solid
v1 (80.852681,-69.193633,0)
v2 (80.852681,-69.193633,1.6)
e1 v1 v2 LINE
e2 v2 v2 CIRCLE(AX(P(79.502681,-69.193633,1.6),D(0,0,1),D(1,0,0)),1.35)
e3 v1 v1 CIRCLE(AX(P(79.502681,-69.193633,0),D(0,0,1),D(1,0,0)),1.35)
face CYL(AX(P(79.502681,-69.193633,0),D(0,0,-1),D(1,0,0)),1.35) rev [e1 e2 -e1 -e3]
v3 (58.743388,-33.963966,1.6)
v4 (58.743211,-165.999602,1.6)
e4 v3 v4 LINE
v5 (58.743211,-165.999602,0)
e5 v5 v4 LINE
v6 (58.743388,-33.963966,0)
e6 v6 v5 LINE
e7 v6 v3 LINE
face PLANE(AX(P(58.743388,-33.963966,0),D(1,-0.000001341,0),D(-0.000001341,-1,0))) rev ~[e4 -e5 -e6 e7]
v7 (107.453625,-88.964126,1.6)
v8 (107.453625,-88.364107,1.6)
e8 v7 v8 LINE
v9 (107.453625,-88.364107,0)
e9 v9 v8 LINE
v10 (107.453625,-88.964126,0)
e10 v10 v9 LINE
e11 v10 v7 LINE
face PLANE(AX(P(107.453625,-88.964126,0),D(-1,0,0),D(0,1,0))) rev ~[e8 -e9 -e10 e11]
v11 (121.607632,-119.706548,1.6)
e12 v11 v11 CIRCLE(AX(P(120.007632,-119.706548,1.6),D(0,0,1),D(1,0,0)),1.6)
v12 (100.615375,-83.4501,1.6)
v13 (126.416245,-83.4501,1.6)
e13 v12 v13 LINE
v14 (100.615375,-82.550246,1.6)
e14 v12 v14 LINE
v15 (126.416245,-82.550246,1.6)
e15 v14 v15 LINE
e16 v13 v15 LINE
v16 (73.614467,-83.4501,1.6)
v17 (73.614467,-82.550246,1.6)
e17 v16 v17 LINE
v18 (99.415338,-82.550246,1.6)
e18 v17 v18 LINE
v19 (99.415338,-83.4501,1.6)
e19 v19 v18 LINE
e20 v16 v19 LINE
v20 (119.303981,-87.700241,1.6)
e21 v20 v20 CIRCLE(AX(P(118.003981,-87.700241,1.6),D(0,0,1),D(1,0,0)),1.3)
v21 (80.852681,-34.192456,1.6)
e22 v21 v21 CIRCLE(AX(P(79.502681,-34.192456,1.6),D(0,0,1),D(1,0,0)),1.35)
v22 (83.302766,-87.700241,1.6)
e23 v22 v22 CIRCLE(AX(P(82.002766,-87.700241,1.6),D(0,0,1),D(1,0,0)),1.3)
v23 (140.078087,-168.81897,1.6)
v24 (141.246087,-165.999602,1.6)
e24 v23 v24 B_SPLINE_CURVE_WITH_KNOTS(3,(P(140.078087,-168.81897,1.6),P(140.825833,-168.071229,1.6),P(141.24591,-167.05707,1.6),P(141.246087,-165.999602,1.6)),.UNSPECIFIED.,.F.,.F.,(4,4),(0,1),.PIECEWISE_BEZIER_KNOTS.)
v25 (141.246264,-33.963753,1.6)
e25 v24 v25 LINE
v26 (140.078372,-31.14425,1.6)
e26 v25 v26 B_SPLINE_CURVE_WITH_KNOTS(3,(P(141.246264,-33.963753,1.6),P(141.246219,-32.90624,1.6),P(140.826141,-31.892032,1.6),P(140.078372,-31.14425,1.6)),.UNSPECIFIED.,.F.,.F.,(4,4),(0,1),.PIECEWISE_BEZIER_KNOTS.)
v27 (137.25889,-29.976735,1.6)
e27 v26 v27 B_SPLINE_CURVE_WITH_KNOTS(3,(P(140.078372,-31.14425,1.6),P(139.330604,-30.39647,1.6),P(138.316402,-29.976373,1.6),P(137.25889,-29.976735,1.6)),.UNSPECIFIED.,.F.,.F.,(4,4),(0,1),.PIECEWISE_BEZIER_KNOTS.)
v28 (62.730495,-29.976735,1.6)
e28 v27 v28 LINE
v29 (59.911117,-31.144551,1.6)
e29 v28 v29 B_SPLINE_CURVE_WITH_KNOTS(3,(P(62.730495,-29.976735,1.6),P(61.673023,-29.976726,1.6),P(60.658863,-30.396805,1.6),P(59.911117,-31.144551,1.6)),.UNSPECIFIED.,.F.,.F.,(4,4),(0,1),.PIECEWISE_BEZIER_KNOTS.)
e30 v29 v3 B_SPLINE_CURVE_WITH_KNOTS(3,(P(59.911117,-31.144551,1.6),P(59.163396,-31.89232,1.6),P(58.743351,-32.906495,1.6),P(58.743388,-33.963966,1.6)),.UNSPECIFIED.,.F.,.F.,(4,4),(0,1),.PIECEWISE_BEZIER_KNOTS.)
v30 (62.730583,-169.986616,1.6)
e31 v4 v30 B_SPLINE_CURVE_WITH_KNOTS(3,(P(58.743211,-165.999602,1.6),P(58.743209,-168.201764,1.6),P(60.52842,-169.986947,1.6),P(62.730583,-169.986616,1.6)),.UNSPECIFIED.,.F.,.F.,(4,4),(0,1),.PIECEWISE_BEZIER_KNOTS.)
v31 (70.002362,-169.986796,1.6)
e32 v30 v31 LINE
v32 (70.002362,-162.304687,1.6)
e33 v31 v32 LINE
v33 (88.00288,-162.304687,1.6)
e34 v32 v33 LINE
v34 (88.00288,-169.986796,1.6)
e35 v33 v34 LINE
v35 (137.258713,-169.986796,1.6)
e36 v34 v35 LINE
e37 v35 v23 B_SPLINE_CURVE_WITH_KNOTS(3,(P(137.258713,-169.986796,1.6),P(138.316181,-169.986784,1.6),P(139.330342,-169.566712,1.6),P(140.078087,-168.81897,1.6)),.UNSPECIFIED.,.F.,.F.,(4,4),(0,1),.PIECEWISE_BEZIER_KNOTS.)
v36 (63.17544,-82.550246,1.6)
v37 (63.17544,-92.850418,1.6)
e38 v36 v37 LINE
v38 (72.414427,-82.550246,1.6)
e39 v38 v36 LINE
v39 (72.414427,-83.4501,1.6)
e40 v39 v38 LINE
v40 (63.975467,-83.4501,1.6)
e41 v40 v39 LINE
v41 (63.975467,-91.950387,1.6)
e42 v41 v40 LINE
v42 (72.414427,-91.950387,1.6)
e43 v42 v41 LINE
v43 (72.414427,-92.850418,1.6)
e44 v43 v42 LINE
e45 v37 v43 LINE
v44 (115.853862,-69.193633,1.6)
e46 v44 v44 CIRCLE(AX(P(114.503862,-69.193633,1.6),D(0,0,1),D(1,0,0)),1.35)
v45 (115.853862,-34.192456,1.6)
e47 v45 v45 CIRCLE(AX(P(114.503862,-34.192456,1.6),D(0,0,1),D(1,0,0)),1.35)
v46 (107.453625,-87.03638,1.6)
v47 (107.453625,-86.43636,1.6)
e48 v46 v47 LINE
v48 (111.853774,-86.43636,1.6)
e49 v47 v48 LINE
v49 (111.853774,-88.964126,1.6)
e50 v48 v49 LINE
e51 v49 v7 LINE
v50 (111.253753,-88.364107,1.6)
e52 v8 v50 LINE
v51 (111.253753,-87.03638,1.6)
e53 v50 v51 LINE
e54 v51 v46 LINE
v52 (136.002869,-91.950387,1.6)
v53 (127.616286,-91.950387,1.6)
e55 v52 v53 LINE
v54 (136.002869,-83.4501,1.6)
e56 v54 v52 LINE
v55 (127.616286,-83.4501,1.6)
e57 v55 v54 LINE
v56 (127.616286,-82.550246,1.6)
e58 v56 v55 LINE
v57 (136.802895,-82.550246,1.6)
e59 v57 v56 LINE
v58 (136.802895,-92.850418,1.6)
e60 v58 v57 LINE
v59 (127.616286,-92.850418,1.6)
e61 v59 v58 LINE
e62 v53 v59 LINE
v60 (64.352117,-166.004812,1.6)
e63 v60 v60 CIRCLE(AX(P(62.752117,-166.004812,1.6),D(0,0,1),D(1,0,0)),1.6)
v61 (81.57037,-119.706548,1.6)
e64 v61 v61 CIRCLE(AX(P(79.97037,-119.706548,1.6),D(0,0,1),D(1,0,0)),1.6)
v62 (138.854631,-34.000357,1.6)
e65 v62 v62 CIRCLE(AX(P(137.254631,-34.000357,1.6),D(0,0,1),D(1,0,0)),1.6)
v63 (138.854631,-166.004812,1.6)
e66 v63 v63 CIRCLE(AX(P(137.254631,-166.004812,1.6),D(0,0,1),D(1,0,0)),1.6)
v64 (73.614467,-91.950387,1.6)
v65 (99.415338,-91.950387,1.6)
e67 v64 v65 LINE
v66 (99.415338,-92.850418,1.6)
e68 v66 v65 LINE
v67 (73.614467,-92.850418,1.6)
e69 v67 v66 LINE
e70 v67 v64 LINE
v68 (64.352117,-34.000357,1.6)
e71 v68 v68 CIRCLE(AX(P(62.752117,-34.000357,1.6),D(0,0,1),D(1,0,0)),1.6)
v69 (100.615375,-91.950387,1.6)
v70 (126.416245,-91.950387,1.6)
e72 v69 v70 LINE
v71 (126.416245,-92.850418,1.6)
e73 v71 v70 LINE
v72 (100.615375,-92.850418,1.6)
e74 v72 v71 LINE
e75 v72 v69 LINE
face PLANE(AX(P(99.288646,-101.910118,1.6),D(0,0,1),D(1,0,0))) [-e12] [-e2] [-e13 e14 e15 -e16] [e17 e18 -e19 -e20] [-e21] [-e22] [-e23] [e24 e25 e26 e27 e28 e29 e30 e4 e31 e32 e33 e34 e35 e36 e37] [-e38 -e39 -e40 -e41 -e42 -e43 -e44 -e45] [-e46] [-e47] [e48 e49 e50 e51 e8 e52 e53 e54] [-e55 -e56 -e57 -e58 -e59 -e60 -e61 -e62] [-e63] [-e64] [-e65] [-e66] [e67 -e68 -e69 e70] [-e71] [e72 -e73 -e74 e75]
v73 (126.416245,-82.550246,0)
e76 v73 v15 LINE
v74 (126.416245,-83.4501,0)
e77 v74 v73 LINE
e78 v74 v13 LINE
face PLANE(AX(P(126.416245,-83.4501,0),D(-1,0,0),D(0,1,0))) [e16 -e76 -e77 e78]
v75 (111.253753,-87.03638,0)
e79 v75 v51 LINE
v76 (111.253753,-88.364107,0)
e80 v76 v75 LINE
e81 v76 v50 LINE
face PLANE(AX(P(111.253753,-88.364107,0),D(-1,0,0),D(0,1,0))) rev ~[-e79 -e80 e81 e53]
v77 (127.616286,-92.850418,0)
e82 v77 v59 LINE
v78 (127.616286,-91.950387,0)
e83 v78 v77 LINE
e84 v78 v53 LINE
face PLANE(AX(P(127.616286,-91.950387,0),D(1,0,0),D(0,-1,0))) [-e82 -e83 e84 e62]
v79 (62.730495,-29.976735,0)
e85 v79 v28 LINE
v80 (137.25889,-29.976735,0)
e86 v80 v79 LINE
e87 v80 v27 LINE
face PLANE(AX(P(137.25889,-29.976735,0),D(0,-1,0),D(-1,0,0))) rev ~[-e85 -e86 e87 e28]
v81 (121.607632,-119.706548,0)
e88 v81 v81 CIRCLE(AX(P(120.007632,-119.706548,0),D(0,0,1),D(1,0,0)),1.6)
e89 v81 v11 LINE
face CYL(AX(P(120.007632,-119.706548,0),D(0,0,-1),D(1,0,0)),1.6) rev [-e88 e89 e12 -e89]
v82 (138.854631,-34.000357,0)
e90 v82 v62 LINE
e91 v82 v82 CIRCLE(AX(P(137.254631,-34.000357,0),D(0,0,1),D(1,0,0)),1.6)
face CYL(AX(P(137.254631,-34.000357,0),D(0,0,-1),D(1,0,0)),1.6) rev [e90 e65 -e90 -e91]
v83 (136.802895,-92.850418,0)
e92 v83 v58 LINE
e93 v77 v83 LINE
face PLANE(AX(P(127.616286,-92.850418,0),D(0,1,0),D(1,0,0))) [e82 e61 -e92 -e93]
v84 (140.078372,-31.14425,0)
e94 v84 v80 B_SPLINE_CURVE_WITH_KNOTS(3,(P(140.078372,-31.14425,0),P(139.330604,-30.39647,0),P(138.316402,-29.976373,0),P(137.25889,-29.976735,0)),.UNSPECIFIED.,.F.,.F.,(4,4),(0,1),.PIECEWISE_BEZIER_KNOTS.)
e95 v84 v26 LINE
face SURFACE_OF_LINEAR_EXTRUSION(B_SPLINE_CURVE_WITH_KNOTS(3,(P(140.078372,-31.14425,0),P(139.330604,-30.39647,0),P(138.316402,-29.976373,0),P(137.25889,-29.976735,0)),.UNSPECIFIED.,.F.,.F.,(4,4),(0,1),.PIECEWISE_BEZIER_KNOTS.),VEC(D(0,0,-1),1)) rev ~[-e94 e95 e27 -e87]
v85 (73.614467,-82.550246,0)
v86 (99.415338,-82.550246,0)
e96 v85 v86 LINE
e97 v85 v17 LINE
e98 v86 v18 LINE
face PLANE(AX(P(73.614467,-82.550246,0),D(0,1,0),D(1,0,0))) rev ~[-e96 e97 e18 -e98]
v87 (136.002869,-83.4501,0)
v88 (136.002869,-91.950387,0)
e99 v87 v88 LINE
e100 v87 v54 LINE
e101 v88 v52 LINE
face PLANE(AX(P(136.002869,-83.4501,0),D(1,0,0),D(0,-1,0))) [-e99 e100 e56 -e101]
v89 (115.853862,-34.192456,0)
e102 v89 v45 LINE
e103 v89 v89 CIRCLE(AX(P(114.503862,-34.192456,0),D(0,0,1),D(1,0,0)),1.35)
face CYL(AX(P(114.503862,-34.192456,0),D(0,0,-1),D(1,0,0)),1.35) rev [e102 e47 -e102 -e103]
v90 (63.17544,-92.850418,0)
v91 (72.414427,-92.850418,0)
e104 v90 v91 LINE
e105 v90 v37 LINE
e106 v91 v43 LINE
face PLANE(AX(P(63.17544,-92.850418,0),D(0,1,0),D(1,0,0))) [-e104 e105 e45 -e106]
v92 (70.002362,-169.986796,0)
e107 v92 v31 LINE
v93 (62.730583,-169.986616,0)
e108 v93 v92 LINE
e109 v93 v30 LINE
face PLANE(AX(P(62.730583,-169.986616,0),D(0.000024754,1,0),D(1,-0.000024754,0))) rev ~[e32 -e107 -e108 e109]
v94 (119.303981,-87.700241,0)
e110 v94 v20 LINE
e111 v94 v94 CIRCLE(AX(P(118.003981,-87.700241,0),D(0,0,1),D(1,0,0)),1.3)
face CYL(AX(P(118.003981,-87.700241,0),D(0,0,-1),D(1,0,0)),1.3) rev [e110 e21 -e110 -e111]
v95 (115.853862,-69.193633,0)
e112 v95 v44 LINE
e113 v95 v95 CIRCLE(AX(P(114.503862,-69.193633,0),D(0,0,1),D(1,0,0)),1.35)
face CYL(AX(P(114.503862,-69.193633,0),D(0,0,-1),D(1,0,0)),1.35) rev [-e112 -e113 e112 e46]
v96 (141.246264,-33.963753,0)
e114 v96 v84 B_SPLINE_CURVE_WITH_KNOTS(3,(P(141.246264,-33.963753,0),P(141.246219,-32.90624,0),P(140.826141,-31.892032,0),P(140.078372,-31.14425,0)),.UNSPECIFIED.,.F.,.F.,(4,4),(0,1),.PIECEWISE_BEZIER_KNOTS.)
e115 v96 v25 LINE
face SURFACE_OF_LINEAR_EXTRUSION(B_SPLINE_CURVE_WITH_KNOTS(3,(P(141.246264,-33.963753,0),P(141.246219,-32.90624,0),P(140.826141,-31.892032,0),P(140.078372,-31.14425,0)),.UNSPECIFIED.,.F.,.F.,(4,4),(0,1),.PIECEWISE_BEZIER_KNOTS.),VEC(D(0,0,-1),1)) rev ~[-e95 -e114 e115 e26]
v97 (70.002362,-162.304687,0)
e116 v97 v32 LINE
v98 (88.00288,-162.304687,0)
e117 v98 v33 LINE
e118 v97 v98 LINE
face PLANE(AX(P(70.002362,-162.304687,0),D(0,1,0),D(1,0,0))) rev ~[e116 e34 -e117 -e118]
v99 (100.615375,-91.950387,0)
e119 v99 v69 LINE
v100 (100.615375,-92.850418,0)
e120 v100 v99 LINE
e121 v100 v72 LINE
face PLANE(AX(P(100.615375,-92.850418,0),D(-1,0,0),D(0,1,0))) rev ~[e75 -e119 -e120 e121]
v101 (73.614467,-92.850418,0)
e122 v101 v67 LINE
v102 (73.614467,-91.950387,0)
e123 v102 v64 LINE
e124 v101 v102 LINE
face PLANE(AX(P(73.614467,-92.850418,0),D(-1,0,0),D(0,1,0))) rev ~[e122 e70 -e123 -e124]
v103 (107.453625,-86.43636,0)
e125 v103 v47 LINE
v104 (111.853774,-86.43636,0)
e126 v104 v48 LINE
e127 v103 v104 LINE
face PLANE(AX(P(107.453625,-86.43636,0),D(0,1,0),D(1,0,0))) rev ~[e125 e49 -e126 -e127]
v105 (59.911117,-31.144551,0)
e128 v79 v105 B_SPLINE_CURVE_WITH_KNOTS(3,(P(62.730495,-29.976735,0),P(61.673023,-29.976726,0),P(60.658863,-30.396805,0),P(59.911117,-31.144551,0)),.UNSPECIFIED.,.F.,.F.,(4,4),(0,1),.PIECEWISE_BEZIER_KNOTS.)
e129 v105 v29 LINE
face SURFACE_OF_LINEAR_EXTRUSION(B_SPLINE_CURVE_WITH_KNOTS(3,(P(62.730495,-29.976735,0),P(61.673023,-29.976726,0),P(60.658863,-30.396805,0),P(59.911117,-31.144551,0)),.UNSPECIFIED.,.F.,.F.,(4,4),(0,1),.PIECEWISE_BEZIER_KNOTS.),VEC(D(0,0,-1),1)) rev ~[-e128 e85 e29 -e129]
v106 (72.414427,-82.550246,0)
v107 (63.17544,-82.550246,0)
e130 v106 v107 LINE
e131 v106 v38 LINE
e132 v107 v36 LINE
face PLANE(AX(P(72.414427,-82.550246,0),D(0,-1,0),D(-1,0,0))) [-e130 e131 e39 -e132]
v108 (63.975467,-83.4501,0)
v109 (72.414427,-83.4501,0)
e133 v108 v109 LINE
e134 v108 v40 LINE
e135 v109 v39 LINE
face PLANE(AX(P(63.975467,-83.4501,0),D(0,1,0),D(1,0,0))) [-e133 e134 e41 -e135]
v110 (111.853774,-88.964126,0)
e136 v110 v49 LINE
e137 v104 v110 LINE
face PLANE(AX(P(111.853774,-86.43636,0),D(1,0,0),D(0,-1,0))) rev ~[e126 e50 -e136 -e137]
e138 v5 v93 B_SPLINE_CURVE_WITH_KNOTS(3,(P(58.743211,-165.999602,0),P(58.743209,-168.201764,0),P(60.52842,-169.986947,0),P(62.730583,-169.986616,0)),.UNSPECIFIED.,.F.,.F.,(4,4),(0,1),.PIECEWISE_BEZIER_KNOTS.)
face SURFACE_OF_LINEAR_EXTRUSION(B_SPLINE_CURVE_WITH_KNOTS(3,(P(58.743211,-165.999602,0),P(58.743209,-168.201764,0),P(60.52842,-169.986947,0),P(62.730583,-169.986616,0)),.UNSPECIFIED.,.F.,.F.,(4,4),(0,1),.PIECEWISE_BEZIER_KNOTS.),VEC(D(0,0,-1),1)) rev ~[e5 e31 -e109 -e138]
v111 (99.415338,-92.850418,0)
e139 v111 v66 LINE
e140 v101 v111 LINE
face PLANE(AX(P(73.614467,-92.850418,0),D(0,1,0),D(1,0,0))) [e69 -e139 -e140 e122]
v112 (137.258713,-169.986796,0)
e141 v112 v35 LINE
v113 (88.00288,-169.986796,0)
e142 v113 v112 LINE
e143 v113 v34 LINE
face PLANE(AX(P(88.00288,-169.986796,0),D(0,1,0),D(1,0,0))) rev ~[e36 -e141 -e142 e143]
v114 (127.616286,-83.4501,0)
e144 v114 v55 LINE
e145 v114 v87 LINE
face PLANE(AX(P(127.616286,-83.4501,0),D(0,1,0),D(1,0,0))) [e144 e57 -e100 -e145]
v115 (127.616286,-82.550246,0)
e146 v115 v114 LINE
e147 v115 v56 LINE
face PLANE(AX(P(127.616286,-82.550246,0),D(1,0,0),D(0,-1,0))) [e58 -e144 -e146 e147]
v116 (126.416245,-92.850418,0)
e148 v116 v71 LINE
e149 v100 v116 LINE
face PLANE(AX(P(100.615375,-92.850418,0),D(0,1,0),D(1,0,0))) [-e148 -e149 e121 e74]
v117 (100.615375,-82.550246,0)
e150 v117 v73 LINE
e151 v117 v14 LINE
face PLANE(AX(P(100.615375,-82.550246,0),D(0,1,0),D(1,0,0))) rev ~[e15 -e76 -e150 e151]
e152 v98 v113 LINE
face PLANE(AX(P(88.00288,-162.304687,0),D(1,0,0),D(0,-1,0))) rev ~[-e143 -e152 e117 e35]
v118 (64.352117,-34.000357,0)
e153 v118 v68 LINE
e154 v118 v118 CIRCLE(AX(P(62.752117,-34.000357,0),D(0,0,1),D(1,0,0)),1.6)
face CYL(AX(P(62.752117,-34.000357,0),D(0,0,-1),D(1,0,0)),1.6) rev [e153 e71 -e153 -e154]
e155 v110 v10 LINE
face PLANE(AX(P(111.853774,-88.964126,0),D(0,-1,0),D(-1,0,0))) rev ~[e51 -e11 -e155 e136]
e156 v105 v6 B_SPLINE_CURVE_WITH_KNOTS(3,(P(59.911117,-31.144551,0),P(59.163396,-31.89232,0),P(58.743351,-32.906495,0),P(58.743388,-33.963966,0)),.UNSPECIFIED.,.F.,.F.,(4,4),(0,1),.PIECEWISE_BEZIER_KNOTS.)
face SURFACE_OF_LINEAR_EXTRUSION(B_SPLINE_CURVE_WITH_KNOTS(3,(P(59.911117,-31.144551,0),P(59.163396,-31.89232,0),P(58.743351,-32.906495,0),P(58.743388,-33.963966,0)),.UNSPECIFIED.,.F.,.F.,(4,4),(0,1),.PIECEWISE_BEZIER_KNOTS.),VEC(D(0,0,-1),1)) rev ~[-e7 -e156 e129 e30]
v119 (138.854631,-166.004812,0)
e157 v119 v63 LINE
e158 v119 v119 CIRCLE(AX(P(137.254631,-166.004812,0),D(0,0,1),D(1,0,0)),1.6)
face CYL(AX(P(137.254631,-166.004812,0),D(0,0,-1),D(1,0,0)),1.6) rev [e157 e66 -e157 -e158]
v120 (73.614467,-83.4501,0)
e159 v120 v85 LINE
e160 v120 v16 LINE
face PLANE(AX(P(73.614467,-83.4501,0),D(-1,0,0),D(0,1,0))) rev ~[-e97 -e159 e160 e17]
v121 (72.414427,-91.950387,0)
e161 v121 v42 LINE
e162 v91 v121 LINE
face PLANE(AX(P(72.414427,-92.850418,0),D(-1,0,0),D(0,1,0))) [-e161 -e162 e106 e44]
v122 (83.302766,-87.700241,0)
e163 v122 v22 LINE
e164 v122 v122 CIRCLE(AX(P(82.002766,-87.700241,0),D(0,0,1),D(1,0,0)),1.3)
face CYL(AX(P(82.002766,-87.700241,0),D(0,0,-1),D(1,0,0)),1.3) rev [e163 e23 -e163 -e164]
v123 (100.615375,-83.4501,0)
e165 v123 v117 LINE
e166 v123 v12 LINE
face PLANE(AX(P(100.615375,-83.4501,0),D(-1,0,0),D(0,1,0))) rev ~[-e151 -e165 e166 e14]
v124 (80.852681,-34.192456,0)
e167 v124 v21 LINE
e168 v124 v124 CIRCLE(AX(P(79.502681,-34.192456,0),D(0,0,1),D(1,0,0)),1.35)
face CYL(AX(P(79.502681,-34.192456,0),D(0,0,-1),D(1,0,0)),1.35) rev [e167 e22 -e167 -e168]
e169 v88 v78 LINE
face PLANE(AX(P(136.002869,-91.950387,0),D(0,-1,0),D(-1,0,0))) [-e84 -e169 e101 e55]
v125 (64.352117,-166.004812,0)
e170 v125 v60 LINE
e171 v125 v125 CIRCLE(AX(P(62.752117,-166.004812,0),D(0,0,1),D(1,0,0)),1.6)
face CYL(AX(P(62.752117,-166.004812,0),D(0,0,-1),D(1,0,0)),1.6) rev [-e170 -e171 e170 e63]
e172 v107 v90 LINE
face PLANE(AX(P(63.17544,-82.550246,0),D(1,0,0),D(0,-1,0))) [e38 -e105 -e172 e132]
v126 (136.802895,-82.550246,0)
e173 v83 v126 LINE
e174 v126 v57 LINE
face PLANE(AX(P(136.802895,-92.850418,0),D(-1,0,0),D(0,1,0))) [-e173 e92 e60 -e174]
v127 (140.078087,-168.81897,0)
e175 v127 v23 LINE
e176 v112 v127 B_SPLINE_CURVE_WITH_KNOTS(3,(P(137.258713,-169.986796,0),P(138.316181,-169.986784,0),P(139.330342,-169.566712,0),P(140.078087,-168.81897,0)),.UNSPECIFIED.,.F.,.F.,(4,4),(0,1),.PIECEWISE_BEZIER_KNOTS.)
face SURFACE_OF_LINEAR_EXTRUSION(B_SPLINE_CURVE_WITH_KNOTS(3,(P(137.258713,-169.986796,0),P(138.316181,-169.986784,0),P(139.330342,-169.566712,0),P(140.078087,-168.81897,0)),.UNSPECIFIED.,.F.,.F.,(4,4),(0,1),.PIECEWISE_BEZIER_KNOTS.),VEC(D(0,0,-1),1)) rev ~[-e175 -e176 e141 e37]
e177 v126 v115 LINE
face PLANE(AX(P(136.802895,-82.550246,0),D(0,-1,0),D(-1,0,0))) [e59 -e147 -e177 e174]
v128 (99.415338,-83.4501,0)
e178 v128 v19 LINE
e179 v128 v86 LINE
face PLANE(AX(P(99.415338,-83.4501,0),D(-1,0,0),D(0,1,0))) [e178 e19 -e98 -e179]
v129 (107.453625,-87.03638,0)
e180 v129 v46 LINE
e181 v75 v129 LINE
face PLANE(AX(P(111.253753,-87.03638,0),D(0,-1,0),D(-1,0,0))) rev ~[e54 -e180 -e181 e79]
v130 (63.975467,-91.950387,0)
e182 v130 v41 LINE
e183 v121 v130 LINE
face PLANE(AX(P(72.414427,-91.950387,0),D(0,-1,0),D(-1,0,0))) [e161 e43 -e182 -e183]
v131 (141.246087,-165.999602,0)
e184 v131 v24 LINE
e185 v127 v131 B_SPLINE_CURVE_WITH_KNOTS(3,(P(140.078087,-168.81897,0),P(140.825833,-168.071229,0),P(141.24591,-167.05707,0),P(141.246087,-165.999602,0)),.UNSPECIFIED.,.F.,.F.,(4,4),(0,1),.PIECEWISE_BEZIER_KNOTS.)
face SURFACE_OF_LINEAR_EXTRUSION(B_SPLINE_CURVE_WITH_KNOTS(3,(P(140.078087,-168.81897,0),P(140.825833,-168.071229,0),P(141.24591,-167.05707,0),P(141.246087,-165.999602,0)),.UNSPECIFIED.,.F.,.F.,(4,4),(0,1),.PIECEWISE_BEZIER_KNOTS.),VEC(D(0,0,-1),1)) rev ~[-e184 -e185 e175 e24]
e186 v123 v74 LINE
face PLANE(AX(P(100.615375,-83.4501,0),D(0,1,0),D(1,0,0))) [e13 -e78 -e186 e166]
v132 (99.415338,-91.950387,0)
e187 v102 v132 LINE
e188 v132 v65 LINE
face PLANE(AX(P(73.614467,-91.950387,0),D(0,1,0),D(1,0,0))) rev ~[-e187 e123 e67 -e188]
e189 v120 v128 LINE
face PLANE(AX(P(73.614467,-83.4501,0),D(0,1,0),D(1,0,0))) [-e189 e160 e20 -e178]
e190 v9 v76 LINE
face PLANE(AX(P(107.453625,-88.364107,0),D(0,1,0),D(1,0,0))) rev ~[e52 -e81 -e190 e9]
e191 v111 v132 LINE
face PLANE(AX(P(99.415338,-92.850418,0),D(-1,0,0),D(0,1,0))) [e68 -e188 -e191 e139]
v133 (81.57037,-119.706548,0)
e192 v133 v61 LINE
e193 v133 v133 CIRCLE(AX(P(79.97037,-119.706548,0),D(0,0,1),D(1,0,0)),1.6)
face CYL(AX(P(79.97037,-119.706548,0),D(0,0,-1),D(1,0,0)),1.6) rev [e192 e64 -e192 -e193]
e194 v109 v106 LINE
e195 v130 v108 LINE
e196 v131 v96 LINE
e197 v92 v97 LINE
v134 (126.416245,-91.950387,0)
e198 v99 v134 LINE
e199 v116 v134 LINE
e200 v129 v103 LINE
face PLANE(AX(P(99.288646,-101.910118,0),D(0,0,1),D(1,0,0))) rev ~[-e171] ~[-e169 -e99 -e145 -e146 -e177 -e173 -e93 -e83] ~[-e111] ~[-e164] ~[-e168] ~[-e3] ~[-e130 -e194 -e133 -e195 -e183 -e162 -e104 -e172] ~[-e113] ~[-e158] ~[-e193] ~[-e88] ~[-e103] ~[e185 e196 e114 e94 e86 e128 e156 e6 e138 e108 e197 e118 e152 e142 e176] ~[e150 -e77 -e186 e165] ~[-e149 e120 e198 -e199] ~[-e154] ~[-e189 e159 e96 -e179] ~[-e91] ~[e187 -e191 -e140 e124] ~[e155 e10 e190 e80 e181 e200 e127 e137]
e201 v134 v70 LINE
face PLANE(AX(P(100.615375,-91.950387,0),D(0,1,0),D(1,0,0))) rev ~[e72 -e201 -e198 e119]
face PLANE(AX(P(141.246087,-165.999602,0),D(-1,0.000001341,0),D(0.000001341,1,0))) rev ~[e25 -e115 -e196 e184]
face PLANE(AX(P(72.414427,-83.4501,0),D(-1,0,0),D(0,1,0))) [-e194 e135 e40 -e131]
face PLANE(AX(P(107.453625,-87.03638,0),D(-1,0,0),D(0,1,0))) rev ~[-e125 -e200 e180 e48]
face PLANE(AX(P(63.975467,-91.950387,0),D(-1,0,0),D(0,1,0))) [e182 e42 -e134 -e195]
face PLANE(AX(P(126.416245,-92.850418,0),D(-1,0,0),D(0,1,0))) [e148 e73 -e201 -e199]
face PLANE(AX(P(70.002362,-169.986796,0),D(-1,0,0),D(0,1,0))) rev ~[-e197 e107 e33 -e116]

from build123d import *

# Parameters (mm, degrees)
MODEL_R             = 1.3
MODEL_R_2           = 1.35
MODEL_R_3           = 1.6
MODEL_W             = 25.800871102
MODEL_H             = 0.899853509
MODEL_W_2           = 25.800870102
MODEL_H_2           = 0.900030515
BOSS_EXTRUDE1_DEPTH = 1.6


with BuildPart() as part:
    # Model → Boss-Extrude1 (new body)
    with BuildSketch(Plane.XY):
        with BuildLine():
            Line((70.002361624, -162.304686543), (88.002880425, -162.304686543))
            Line((88.002880425, -162.304686543), (88.002880425, -169.986796467))
            Line((88.002880425, -169.986796467), (137.258712697, -169.986796467))
            add(Edge.make_bspline(
                [(137.258712697, -169.986796467), (138.316181375, -169.986784466), (139.330341633, -169.566711691), (140.078087155, -168.81897017)],
                knots=[0, 0, 0, 0, 1, 1, 1, 1], degree=3))
            add(Edge.make_bspline(
                [(140.078087155, -168.81897017), (140.825832676, -168.071228648), (141.245910452, -167.057070391), (141.246087457, -165.999601713)],
                knots=[0, 0, 0, 0, 1, 1, 1, 1], degree=3))
            Line((141.246087457, -165.999601713), (141.246264463, -33.963752791))
            add(Edge.make_bspline(
                [(141.246264463, -33.963752791), (141.246219462, -32.906240112), (140.826140686, -31.892031852), (140.078372164, -31.14425033)],
                knots=[0, 0, 0, 0, 1, 1, 1, 1], degree=3))
            add(Edge.make_bspline(
                [(140.078372164, -31.14425033), (139.330603642, -30.396469808), (138.316402383, -29.976373031), (137.258889703, -29.976735043)],
                knots=[0, 0, 0, 0, 1, 1, 1, 1], degree=3))
            Line((137.258889703, -29.976735043), (62.730494654, -29.976735043))
            add(Edge.make_bspline(
                [(62.730494654, -29.976735043), (61.673022976, -29.976726043), (60.658862718, -30.396804818), (59.911117197, -31.14455134)],
                knots=[0, 0, 0, 0, 1, 1, 1, 1], degree=3))
            add(Edge.make_bspline(
                [(59.911117197, -31.14455134), (59.163396148, -31.892320333), (58.743351208, -32.906494777), (58.743388403, -33.963966454)],
                knots=[0, 0, 0, 0, 1, 1, 1, 1], degree=3))
            Line((58.743388403, -33.963966454), (58.743211397, -165.999601713))
            add(Edge.make_bspline(
                [(58.743211397, -165.999601713), (58.743209397, -168.201763929), (60.52841994, -169.986947472), (62.730583157, -169.986616461)],
                knots=[0, 0, 0, 0, 1, 1, 1, 1], degree=3))
            Line((62.730583157, -169.986616461), (70.002361624, -169.986796467))
            Line((70.002361624, -169.986796467), (70.002361624, -162.304686543))
        make_face()
        with Locations((118.003980767, -87.700241)):
            Circle(MODEL_R, mode=Mode.SUBTRACT)
        with Locations((82.00276616, -87.700241)):
            Circle(MODEL_R, mode=Mode.SUBTRACT)
        with Locations((114.503861986, -69.193633103)):
            Circle(MODEL_R_2, mode=Mode.SUBTRACT)
        with Locations((79.502681173, -69.193633103)):
            Circle(MODEL_R_2, mode=Mode.SUBTRACT)
        with Locations((79.502681173, -34.192456291)):
            Circle(MODEL_R_2, mode=Mode.SUBTRACT)
        with Locations((114.503861986, -34.192456291)):
            Circle(MODEL_R_2, mode=Mode.SUBTRACT)
        with Locations((62.752116863, -34.000356992)):
            Circle(MODEL_R_3, mode=Mode.SUBTRACT)
        with Locations((137.254631064, -34.000356992)):
            Circle(MODEL_R_3, mode=Mode.SUBTRACT)
        with Locations((137.254631064, -166.004811883)):
            Circle(MODEL_R_3, mode=Mode.SUBTRACT)
        with Locations((62.752116863, -166.004811883)):
            Circle(MODEL_R_3, mode=Mode.SUBTRACT)
        with Locations((79.970369511, -119.70654813)):
            Circle(MODEL_R_3, mode=Mode.SUBTRACT)
        with Locations((120.007632474, -119.70654813)):
            Circle(MODEL_R_3, mode=Mode.SUBTRACT)
        Polygon((72.414426725, -82.550246114), (63.175439746, -82.550246114), (63.175439746, -92.850417893), (72.414426725, -92.850417893), (72.414426725, -91.950387378), (63.975466981, -91.950387378), (63.975466981, -83.450099623), (72.414426725, -83.450099623), align=None, mode=Mode.SUBTRACT)
        with Locations((86.514902629, -83.000172869)):
            Rectangle(MODEL_W, MODEL_H, mode=Mode.SUBTRACT)
        with Locations((113.515809584, -83.000172869)):
            Rectangle(MODEL_W_2, MODEL_H, mode=Mode.SUBTRACT)
        with Locations((86.514902629, -92.400402636)):
            Rectangle(MODEL_W, MODEL_H_2, mode=Mode.SUBTRACT)
        with Locations((113.515809584, -92.400402636)):
            Rectangle(MODEL_W_2, MODEL_H_2, mode=Mode.SUBTRACT)
        Polygon((127.616285988, -91.950387378), (127.616285988, -92.850417893), (136.80289525, -92.850417893), (136.80289525, -82.550246114), (127.616285988, -82.550246114), (127.616285988, -83.450099623), (136.002869014, -83.450099623), (136.002869014, -91.950387378), align=None, mode=Mode.SUBTRACT)
        Polygon((107.453624783, -86.436359553), (111.85377408, -86.436359553), (111.85377408, -88.964126448), (107.453624783, -88.964126448), (107.453624783, -88.364106771), (111.253753403, -88.364106771), (111.253753403, -87.03638023), (107.453624783, -87.03638023), align=None, mode=Mode.SUBTRACT)
    extrude(amount=BOSS_EXTRUDE1_DEPTH)


solid = part.part
